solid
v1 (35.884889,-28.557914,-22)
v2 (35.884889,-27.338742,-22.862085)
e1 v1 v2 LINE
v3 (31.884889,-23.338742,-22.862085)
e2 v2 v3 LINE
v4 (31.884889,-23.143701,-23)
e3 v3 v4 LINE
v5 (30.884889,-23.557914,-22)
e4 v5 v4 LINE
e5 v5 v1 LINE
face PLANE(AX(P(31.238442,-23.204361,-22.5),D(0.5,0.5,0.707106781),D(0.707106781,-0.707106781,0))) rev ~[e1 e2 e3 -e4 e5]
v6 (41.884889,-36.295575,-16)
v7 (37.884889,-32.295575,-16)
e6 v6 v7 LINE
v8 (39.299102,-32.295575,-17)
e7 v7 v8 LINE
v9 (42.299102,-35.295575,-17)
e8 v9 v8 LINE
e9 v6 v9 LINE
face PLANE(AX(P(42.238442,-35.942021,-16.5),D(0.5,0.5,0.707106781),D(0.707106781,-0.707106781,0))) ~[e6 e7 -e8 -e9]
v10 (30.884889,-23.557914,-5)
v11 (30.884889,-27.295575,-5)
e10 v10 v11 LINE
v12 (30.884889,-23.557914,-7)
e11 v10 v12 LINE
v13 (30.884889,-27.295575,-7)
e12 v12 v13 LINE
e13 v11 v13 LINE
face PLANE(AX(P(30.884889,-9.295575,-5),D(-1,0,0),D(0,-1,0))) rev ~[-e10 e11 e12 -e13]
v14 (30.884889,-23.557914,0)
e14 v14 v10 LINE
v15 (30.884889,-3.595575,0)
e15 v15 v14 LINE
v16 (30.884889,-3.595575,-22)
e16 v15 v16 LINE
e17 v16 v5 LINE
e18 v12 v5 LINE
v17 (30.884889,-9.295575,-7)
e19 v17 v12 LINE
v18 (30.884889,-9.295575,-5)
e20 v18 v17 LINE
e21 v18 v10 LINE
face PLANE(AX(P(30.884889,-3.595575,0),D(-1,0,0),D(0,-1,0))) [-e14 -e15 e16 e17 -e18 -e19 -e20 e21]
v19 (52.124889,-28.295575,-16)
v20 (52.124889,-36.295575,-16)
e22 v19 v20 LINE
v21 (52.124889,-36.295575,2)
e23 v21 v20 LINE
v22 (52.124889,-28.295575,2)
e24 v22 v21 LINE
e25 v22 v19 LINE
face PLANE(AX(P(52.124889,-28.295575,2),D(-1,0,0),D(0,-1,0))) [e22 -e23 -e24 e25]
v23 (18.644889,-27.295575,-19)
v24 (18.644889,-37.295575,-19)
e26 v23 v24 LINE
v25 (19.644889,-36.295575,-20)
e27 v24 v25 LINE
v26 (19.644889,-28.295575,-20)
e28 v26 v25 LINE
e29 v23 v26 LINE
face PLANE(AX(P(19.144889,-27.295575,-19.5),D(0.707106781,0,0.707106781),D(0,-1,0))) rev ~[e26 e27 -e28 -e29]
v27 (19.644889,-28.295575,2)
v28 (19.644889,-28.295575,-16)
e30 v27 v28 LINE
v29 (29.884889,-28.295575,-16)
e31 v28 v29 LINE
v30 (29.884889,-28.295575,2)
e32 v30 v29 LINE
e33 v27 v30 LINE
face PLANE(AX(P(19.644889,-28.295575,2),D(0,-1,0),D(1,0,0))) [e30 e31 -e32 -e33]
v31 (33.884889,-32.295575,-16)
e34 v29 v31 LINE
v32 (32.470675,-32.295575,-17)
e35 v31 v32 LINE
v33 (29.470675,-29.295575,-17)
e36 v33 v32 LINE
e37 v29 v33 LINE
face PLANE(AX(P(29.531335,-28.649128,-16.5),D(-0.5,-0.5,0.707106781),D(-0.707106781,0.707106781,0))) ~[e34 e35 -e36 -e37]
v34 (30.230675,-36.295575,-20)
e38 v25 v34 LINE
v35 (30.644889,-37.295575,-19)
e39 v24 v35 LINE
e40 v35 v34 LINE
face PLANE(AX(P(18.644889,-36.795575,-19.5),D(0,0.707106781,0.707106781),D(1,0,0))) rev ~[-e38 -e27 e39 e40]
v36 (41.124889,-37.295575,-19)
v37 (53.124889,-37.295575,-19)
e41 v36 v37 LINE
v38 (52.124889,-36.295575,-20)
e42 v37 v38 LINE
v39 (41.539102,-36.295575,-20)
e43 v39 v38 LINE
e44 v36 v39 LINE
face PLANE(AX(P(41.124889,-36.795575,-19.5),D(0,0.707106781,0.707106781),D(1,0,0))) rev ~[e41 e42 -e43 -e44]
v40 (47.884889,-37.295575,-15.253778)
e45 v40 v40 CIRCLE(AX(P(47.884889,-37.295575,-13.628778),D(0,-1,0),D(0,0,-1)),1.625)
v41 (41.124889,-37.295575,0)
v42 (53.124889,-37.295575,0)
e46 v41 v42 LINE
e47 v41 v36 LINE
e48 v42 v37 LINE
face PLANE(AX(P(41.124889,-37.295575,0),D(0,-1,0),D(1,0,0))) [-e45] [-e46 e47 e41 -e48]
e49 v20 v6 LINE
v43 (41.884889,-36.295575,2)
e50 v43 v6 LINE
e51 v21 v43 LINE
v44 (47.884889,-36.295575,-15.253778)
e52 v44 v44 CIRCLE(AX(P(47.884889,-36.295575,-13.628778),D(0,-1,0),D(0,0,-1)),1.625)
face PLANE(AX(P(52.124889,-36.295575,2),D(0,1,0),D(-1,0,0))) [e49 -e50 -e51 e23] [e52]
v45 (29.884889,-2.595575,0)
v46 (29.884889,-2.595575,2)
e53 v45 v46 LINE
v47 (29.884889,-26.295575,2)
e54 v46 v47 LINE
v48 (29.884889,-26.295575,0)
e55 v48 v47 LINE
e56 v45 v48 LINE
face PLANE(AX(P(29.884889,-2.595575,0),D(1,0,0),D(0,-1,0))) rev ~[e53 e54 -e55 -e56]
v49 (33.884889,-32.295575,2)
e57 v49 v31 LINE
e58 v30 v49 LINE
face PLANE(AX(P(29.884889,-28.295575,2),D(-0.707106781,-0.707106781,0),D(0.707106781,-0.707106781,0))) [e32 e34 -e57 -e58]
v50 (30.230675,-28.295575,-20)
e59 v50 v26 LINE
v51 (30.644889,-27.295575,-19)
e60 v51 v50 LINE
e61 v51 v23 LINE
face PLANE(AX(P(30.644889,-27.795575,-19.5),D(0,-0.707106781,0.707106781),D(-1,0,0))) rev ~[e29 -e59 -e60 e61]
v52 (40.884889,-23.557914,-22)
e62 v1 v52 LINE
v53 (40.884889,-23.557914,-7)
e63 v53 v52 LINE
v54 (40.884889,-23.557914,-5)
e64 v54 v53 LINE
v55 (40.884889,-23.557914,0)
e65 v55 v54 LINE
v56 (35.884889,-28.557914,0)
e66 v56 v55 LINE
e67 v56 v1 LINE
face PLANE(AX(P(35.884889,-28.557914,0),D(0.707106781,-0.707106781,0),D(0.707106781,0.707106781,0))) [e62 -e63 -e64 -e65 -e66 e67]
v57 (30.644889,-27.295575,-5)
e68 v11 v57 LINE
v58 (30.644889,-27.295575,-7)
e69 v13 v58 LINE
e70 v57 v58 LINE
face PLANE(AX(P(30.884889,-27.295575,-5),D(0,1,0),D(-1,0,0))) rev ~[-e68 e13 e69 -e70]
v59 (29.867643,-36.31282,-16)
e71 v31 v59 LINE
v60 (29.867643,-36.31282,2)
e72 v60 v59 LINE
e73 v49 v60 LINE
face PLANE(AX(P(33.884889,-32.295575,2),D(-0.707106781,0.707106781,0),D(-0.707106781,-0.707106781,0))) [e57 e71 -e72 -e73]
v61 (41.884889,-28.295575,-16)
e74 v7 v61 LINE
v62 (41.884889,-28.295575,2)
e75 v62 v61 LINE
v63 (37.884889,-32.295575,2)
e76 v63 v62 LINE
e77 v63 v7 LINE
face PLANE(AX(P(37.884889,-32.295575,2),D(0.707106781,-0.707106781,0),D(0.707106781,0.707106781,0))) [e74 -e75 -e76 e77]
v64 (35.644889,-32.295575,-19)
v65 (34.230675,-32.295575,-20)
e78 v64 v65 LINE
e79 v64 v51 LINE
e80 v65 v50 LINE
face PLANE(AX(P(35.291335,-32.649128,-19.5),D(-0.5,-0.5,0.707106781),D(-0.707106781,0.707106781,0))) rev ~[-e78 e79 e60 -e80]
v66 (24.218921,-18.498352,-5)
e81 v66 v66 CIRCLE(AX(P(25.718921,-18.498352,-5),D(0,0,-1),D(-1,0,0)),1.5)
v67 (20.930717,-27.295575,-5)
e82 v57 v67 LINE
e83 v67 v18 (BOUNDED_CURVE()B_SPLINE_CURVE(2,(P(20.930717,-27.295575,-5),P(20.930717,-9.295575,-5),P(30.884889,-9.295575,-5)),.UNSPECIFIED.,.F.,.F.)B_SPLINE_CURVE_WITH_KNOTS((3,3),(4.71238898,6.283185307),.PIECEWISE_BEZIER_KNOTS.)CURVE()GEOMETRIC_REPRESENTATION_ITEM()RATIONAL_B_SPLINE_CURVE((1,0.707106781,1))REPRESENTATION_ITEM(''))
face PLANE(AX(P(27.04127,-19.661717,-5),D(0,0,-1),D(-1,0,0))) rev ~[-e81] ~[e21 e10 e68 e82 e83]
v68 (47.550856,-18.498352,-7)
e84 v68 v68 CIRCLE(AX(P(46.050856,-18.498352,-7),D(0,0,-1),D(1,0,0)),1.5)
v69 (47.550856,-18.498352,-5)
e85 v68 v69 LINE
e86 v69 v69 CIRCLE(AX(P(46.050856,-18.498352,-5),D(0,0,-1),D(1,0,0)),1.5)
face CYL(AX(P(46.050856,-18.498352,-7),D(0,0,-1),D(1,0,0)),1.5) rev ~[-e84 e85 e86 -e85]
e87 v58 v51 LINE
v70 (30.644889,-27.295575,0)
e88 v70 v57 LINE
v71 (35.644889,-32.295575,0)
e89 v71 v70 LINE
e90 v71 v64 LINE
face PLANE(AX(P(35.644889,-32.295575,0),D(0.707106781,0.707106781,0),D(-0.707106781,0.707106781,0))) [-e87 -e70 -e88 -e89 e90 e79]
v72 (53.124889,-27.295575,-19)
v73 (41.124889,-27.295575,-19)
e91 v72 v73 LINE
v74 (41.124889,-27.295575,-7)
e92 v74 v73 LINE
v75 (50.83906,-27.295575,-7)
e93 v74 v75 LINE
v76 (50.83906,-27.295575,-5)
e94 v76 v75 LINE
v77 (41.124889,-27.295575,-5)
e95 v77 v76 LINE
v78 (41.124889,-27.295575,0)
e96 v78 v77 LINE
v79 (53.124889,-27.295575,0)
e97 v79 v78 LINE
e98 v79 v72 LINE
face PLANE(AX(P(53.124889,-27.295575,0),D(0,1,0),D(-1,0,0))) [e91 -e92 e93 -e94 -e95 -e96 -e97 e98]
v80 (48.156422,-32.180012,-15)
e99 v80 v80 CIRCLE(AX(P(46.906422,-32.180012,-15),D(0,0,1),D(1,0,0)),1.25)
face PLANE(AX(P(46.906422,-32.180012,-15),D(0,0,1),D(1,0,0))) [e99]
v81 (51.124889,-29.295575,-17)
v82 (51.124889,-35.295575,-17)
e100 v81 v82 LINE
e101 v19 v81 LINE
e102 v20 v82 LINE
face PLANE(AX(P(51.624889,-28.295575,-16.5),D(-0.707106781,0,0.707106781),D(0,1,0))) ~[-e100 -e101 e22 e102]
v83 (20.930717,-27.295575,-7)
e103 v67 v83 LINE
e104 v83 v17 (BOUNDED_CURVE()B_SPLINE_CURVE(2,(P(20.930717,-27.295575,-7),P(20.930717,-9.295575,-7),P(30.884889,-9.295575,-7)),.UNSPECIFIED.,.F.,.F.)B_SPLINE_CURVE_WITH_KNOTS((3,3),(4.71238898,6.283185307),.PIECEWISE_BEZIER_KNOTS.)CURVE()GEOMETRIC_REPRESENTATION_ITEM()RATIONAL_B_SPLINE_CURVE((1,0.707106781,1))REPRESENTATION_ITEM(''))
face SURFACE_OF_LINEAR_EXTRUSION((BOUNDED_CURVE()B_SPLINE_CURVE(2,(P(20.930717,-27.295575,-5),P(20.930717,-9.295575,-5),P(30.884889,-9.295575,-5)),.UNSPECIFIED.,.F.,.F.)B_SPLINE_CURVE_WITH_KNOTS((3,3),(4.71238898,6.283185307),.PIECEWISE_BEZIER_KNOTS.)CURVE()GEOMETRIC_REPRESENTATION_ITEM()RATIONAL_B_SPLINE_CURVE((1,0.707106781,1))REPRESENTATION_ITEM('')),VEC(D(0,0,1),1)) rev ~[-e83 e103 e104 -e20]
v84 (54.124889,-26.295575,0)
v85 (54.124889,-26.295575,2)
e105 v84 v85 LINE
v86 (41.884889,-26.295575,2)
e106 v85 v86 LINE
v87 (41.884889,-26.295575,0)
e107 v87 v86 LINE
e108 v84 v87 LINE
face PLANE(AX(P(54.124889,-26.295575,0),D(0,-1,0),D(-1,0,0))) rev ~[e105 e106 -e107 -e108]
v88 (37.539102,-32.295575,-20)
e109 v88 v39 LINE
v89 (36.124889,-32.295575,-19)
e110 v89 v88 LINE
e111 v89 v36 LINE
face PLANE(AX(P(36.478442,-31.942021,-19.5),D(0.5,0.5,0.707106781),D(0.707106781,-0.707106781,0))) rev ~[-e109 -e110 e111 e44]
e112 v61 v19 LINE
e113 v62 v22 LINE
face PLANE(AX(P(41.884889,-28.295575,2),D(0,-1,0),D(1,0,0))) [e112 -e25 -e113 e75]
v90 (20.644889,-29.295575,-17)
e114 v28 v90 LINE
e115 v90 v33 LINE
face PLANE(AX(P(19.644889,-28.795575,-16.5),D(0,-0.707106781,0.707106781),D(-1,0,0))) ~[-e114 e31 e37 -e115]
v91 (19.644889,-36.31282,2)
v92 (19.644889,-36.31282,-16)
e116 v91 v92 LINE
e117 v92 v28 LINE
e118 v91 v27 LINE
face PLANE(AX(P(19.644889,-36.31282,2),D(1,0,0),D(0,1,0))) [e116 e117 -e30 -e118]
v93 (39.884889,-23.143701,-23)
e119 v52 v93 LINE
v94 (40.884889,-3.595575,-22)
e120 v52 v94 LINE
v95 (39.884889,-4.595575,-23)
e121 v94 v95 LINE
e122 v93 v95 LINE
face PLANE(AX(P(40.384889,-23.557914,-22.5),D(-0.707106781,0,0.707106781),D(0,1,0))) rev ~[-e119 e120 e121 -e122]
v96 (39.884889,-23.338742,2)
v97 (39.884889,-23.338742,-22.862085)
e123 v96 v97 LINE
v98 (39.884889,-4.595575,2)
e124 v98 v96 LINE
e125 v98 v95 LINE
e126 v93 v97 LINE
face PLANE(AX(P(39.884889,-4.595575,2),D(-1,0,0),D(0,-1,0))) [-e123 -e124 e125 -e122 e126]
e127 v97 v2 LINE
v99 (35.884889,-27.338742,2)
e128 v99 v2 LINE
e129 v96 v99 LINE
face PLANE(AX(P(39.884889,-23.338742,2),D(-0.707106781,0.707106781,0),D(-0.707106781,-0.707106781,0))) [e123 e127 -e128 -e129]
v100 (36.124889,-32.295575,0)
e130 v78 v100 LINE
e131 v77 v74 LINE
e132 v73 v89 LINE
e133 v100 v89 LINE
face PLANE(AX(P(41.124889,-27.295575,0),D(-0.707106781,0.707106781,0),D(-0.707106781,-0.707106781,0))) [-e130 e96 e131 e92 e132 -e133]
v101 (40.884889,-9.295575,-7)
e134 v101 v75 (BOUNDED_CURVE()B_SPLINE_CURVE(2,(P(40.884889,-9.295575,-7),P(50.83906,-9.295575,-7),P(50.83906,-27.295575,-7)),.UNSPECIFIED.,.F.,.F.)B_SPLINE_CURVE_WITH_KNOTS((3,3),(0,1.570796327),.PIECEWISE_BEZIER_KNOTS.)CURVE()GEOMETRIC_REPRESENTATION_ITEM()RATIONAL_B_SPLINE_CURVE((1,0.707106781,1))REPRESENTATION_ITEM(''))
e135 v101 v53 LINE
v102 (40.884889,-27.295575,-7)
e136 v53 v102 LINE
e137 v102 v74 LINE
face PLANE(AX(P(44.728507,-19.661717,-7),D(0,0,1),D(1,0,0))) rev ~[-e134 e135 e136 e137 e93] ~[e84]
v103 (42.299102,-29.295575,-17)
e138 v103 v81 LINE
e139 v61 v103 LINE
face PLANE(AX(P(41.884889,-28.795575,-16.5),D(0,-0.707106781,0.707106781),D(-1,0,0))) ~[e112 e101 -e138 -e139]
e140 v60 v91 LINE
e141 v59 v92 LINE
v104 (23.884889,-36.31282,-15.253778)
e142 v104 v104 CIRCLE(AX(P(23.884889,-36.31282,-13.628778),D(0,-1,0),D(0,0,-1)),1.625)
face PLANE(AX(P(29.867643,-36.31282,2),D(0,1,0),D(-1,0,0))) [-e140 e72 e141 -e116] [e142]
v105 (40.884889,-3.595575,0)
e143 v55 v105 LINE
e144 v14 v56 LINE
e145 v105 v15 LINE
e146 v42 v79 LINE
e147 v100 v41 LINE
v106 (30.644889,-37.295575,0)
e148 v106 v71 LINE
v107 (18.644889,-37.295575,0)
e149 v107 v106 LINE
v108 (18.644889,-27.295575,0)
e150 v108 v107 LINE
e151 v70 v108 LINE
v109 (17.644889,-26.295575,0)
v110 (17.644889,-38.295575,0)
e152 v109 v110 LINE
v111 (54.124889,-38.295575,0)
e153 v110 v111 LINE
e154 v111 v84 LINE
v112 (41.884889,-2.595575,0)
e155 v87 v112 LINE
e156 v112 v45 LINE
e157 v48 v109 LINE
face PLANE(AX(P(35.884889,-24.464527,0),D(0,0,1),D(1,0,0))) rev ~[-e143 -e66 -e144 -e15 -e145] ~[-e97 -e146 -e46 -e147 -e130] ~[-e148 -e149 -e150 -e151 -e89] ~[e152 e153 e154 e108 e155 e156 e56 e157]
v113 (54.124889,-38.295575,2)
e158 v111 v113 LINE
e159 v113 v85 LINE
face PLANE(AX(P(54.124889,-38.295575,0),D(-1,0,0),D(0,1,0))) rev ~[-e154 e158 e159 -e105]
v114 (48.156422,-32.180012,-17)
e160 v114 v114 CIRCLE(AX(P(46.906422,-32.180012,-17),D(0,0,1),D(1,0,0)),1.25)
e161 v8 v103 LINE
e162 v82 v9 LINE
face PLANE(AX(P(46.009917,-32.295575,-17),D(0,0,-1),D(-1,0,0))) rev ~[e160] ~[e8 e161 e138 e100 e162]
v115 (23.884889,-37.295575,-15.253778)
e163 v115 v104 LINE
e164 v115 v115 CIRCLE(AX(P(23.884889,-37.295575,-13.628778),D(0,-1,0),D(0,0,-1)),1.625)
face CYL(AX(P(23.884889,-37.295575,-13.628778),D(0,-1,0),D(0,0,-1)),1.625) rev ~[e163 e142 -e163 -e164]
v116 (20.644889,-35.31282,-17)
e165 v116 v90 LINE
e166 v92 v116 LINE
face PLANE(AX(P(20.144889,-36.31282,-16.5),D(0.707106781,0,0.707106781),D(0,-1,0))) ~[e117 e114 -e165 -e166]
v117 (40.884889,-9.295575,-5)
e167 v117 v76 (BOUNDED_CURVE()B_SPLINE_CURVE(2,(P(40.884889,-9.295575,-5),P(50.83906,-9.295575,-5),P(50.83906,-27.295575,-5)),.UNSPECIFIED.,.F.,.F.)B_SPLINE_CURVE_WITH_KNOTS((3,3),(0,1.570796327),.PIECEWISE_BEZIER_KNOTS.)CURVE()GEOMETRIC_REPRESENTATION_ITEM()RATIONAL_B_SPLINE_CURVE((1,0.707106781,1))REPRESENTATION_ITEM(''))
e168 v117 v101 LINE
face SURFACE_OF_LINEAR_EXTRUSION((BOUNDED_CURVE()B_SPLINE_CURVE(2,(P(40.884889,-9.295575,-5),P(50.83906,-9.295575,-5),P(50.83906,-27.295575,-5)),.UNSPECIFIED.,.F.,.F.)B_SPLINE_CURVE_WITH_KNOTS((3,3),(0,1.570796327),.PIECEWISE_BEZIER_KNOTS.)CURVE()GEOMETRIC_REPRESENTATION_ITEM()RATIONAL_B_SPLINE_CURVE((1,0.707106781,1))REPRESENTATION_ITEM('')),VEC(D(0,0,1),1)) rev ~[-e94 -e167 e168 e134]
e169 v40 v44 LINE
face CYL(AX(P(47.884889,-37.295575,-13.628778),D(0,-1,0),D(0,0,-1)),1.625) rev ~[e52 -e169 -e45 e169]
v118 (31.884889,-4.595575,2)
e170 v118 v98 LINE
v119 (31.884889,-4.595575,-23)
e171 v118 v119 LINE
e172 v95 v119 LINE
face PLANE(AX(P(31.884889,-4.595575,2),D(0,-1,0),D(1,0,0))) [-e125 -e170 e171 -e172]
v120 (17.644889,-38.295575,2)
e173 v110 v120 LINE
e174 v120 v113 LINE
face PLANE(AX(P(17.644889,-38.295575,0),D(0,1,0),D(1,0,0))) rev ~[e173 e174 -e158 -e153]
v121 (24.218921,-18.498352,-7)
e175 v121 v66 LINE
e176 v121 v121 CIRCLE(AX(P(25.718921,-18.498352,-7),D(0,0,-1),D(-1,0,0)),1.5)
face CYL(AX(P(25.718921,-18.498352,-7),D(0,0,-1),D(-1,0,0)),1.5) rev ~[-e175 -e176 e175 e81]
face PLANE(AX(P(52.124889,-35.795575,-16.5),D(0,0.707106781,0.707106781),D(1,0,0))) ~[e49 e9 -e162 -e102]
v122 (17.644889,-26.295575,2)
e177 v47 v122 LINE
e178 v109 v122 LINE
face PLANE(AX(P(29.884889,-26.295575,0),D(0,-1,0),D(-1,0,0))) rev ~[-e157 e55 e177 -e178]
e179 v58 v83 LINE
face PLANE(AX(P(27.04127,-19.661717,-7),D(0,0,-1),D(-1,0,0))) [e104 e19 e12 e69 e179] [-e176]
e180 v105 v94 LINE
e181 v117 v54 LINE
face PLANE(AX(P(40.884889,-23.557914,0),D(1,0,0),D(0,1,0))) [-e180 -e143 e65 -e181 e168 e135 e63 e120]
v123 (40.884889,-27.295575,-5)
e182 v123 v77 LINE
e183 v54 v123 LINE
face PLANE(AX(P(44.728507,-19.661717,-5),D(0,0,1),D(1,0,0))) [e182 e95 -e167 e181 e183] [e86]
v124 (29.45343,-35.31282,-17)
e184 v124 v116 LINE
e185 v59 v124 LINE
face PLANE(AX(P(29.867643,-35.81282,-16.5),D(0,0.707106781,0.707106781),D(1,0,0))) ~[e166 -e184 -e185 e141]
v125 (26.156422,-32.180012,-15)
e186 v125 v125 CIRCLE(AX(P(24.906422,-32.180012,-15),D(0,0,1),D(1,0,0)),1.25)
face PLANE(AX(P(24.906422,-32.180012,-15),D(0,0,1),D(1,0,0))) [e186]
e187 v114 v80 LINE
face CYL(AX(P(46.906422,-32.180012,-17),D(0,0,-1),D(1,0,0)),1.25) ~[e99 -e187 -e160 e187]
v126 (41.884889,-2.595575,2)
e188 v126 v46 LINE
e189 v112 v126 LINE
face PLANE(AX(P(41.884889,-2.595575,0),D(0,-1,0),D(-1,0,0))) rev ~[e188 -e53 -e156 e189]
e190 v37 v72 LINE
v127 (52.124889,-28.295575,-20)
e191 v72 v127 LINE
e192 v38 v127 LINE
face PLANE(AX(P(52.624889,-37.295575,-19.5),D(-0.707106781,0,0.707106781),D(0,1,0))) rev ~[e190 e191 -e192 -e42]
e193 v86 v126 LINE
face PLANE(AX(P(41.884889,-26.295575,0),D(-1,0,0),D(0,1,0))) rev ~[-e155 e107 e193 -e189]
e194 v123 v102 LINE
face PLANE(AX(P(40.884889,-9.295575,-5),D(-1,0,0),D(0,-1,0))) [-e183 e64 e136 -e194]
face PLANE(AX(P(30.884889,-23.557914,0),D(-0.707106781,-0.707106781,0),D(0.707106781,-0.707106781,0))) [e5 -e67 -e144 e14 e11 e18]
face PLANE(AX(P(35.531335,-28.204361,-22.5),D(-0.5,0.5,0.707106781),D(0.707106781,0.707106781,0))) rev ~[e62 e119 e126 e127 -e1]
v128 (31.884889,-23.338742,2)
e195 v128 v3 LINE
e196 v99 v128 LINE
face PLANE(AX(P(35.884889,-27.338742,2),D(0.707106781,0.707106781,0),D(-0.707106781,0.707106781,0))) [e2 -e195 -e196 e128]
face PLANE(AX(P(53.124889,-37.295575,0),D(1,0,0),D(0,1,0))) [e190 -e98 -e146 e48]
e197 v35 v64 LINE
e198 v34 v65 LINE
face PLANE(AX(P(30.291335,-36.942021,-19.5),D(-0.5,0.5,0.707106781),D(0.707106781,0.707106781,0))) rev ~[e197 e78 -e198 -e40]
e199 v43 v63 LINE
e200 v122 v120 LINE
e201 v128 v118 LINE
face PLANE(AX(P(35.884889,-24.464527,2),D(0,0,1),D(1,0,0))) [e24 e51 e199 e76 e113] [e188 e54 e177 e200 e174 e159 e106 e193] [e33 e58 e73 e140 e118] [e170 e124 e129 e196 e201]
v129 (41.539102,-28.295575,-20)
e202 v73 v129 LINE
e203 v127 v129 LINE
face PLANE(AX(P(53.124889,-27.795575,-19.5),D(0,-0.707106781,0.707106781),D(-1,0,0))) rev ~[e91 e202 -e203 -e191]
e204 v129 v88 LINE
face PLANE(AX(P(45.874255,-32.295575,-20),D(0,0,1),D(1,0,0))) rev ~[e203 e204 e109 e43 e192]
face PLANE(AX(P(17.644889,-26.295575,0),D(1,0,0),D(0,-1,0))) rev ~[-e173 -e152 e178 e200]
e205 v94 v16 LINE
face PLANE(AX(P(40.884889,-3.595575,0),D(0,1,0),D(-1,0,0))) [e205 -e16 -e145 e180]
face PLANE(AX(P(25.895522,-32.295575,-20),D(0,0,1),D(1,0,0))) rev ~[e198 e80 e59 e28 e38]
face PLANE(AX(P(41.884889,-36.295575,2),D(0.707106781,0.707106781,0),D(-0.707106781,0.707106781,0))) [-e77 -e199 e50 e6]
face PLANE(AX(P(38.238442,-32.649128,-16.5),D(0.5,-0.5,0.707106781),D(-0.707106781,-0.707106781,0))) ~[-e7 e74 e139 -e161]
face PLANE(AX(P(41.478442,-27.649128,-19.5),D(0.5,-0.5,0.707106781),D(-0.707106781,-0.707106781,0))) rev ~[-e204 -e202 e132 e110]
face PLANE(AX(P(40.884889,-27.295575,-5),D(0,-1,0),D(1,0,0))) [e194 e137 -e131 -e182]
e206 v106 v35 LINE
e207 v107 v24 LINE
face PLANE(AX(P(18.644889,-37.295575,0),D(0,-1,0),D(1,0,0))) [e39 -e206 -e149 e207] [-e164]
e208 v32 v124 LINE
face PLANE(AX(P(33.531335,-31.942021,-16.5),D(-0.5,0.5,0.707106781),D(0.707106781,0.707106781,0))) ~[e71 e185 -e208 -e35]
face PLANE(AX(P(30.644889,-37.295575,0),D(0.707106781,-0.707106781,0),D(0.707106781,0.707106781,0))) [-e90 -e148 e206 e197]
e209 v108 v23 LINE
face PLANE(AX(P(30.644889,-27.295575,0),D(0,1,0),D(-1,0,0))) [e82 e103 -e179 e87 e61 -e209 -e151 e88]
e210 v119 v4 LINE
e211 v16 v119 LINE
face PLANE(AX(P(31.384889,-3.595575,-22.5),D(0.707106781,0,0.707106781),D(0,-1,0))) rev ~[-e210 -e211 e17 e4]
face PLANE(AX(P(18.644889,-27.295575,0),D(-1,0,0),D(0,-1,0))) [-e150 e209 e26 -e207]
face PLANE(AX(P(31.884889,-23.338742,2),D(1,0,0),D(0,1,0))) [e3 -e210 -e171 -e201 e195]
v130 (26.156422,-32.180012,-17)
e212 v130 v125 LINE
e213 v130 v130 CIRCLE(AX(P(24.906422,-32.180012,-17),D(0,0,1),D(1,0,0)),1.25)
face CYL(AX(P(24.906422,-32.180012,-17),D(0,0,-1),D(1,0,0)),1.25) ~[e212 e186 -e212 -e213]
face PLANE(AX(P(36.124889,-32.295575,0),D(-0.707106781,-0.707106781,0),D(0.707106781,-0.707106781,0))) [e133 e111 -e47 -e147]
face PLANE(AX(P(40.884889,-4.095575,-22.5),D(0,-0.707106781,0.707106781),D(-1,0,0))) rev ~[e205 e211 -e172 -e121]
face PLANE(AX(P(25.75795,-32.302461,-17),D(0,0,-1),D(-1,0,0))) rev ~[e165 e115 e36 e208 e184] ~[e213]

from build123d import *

# Parameters (mm, degrees)
BOSS_EXTRUDE1_DEPTH = 2
BOSS_EXTRUDE2_DEPTH = 20
BOSS_EXTRUDE3_DEPTH = 23
CHAMFER1_SIZE       = 1
CUT_EXTRUDE1_DEPTH  = 28
CUT_EXTRUDE2_DEPTH  = 19
CHAMFER2_SIZE       = 1
BOSS_EXTRUDE4_START = 5
BOSS_EXTRUDE4_DEPTH = 2
SKETCH8_R           = 1.5
CUT_EXTRUDE3_DEPTH  = 2
SKETCH9_R           = 1.625
CUT_EXTRUDE4_DEPTH  = 5
SKETCH10_R          = 1.25
BOSS_EXTRUDE5_DEPTH = 2


with BuildPart() as part:
    # Sketch2 → Boss-Extrude1 (new body)
    with BuildSketch(Plane.XY):
        Polygon((29.88488863, -2.595574528), (29.88488863, -26.295574528), (17.64488863, -26.295574528), (17.64488863, -38.295574528), (54.12488863, -38.295574528), (54.12488863, -26.295574528), (41.88488863, -26.295574528), (41.88488863, -2.595574528), align=None)
    extrude(amount=BOSS_EXTRUDE1_DEPTH)

    # Sketch3 → Boss-Extrude2 (add)
    with BuildSketch(Plane(origin=(0, 0, 0), x_dir=(-1, 0, 0), z_dir=(0, 0, -1))):
        Polygon((-53.12488863, -37.295574528), (-53.12488863, -27.295574528), (-41.12488863, -27.295574528), (-36.12488863, -32.295574528), (-41.12488863, -37.295574528), align=None)
        Polygon((-35.64488863, -32.295574528), (-30.64488863, -27.295574528), (-18.64488863, -27.295574528), (-18.64488863, -37.295574528), (-30.64488863, -37.295574528), align=None)
    extrude(amount=BOSS_EXTRUDE2_DEPTH)

    # Sketch3<3> → Boss-Extrude3 (add)
    with BuildSketch(Plane(origin=(0, 0, 0), x_dir=(-1, 0, 0), z_dir=(0, 0, -1))):
        Polygon((-40.88488863, -3.595574528), (-30.88488863, -3.595574528), (-30.88488863, -23.557914395), (-35.88488863, -28.557914395), (-40.88488863, -23.557914395), align=None)
    extrude(amount=BOSS_EXTRUDE3_DEPTH)

    # Chamfer1
    chamfer1_edges = [part.edges().sort_by_distance(p)[0] for p in [
        (53.12488863, -32.295574528, -20),
        (47.12488863, -37.295574528, -20),
        (38.62488863, -34.795574528, -20),
        (38.62488863, -29.795574528, -20),
        (47.12488863, -27.295574528, -20),
        (33.14488863, -29.795574528, -20),
        (33.14488863, -34.795574528, -20),
        (24.64488863, -37.295574528, -20),
        (18.64488863, -32.295574528, -20),
        (24.64488863, -27.295574528, -20),
        (40.88488863, -13.576744462, -23),
        (38.38488863, -26.057914395, -23),
        (33.38488863, -26.057914395, -23),
        (30.88488863, -13.576744462, -23),
        (35.88488863, -3.595574528, -23),
    ]]
    chamfer(chamfer1_edges, length=CHAMFER1_SIZE)

    # Sketch4 → Cut-Extrude1 (cut)
    with BuildSketch(Plane.XY.offset(2)):
        Polygon((31.88488863, -23.338741615), (31.88488863, -4.595574528), (39.88488863, -4.595574528), (39.88488863, -23.338741615), (35.88488863, -27.338741615), align=None)
    extrude(amount=-CUT_EXTRUDE1_DEPTH, mode=Mode.SUBTRACT)

    # Sketch4<3> → Cut-Extrude2 (cut)
    with BuildSketch(Plane.XY.offset(2)):
        Polygon((19.64488863, -36.312819682), (19.64488863, -28.295574528), (29.88488863, -28.295574528), (33.88488863, -32.295574528), (29.867643476, -36.312819682), align=None)
        Polygon((37.88488863, -32.295574528), (41.88488863, -28.295574528), (52.12488863, -28.295574528), (52.12488863, -36.295574528), (41.88488863, -36.295574528), align=None)
    extrude(amount=-CUT_EXTRUDE2_DEPTH, mode=Mode.SUBTRACT)

    # Chamfer2
    chamfer2_edges = [part.edges().sort_by_distance(p)[0] for p in [
        (19.64488863, -32.304197105, -17),
        (24.76488863, -28.295574528, -17),
        (31.88488863, -30.295574528, -17),
        (31.876266053, -34.304197105, -17),
        (24.756266053, -36.312819682, -17),
        (39.88488863, -30.295574528, -17),
        (47.00488863, -28.295574528, -17),
        (52.12488863, -32.295574528, -17),
        (47.00488863, -36.295574528, -17),
        (39.88488863, -34.295574528, -17),
    ]]
    chamfer(chamfer2_edges, length=CHAMFER2_SIZE)

    # Sketch7 → Boss-Extrude4 (add)
    with BuildSketch(Plane(origin=(0, 0, 0), x_dir=(-1, 0, 0), z_dir=(0, 0, -1)).offset(BOSS_EXTRUDE4_START)):
        with BuildLine():
            Line((-30.88488863, -9.295574528), (-30.88488863, -27.295574528))
            Line((-30.88488863, -27.295574528), (-20.930717386, -27.295574528))
            add(Edge.make_bspline(
                [(-20.930717386, -27.295574528), (-20.930717386, -9.295574528), (-30.88488863, -9.295574528)],
                knots=[4.71238898, 4.71238898, 4.71238898, 6.283185307, 6.283185307, 6.283185307], degree=2, weights=[1, 0.707106781, 1]))
        make_face()
        with BuildLine():
            Line((-40.88488863, -27.295574528), (-50.839059874, -27.295574528))
            add(Edge.make_bspline(
                [(-40.88488863, -9.295574528), (-50.839059874, -9.295574528), (-50.839059874, -27.295574528)],
                knots=[0, 0, 0, 1.570796327, 1.570796327, 1.570796327], degree=2, weights=[1, 0.707106781, 1]))
            Line((-40.88488863, -9.295574528), (-40.88488863, -27.295574528))
        make_face()
    extrude(amount=BOSS_EXTRUDE4_DEPTH)

    # Sketch8 → Cut-Extrude3 (cut)
    with BuildSketch(Plane(origin=(0, 0, -7), x_dir=(-1, 0, 0), z_dir=(0, 0, -1))):
        with Locations((-25.71892105, -18.498352077)):
            Circle(SKETCH8_R)
        with Locations(Location((-46.05085621, -18.498352077, 0), (0, 0, 180))):
            Circle(SKETCH8_R)
    extrude(amount=-CUT_EXTRUDE3_DEPTH, mode=Mode.SUBTRACT)

    # Sketch9 → Cut-Extrude4 (cut)
    with BuildSketch(Plane.XZ.offset(37.295574528)):
        with Locations(Location((23.88488863, -13.628778028, 0), (0, 0, 270))):
            Circle(SKETCH9_R)
        with Locations(Location((47.88488863, -13.628778028, 0), (0, 0, 270))):
            Circle(SKETCH9_R)
    extrude(amount=-CUT_EXTRUDE4_DEPTH, mode=Mode.SUBTRACT)

    # Sketch10 → Boss-Extrude5 (add)
    with BuildSketch(Plane.XY.offset(-17)):
        with Locations((46.906421739, -32.180011543)):
            Circle(SKETCH10_R)
        with Locations((24.906421739, -32.180011543)):
            Circle(SKETCH10_R)
    extrude(amount=BOSS_EXTRUDE5_DEPTH)


solid = part.part
